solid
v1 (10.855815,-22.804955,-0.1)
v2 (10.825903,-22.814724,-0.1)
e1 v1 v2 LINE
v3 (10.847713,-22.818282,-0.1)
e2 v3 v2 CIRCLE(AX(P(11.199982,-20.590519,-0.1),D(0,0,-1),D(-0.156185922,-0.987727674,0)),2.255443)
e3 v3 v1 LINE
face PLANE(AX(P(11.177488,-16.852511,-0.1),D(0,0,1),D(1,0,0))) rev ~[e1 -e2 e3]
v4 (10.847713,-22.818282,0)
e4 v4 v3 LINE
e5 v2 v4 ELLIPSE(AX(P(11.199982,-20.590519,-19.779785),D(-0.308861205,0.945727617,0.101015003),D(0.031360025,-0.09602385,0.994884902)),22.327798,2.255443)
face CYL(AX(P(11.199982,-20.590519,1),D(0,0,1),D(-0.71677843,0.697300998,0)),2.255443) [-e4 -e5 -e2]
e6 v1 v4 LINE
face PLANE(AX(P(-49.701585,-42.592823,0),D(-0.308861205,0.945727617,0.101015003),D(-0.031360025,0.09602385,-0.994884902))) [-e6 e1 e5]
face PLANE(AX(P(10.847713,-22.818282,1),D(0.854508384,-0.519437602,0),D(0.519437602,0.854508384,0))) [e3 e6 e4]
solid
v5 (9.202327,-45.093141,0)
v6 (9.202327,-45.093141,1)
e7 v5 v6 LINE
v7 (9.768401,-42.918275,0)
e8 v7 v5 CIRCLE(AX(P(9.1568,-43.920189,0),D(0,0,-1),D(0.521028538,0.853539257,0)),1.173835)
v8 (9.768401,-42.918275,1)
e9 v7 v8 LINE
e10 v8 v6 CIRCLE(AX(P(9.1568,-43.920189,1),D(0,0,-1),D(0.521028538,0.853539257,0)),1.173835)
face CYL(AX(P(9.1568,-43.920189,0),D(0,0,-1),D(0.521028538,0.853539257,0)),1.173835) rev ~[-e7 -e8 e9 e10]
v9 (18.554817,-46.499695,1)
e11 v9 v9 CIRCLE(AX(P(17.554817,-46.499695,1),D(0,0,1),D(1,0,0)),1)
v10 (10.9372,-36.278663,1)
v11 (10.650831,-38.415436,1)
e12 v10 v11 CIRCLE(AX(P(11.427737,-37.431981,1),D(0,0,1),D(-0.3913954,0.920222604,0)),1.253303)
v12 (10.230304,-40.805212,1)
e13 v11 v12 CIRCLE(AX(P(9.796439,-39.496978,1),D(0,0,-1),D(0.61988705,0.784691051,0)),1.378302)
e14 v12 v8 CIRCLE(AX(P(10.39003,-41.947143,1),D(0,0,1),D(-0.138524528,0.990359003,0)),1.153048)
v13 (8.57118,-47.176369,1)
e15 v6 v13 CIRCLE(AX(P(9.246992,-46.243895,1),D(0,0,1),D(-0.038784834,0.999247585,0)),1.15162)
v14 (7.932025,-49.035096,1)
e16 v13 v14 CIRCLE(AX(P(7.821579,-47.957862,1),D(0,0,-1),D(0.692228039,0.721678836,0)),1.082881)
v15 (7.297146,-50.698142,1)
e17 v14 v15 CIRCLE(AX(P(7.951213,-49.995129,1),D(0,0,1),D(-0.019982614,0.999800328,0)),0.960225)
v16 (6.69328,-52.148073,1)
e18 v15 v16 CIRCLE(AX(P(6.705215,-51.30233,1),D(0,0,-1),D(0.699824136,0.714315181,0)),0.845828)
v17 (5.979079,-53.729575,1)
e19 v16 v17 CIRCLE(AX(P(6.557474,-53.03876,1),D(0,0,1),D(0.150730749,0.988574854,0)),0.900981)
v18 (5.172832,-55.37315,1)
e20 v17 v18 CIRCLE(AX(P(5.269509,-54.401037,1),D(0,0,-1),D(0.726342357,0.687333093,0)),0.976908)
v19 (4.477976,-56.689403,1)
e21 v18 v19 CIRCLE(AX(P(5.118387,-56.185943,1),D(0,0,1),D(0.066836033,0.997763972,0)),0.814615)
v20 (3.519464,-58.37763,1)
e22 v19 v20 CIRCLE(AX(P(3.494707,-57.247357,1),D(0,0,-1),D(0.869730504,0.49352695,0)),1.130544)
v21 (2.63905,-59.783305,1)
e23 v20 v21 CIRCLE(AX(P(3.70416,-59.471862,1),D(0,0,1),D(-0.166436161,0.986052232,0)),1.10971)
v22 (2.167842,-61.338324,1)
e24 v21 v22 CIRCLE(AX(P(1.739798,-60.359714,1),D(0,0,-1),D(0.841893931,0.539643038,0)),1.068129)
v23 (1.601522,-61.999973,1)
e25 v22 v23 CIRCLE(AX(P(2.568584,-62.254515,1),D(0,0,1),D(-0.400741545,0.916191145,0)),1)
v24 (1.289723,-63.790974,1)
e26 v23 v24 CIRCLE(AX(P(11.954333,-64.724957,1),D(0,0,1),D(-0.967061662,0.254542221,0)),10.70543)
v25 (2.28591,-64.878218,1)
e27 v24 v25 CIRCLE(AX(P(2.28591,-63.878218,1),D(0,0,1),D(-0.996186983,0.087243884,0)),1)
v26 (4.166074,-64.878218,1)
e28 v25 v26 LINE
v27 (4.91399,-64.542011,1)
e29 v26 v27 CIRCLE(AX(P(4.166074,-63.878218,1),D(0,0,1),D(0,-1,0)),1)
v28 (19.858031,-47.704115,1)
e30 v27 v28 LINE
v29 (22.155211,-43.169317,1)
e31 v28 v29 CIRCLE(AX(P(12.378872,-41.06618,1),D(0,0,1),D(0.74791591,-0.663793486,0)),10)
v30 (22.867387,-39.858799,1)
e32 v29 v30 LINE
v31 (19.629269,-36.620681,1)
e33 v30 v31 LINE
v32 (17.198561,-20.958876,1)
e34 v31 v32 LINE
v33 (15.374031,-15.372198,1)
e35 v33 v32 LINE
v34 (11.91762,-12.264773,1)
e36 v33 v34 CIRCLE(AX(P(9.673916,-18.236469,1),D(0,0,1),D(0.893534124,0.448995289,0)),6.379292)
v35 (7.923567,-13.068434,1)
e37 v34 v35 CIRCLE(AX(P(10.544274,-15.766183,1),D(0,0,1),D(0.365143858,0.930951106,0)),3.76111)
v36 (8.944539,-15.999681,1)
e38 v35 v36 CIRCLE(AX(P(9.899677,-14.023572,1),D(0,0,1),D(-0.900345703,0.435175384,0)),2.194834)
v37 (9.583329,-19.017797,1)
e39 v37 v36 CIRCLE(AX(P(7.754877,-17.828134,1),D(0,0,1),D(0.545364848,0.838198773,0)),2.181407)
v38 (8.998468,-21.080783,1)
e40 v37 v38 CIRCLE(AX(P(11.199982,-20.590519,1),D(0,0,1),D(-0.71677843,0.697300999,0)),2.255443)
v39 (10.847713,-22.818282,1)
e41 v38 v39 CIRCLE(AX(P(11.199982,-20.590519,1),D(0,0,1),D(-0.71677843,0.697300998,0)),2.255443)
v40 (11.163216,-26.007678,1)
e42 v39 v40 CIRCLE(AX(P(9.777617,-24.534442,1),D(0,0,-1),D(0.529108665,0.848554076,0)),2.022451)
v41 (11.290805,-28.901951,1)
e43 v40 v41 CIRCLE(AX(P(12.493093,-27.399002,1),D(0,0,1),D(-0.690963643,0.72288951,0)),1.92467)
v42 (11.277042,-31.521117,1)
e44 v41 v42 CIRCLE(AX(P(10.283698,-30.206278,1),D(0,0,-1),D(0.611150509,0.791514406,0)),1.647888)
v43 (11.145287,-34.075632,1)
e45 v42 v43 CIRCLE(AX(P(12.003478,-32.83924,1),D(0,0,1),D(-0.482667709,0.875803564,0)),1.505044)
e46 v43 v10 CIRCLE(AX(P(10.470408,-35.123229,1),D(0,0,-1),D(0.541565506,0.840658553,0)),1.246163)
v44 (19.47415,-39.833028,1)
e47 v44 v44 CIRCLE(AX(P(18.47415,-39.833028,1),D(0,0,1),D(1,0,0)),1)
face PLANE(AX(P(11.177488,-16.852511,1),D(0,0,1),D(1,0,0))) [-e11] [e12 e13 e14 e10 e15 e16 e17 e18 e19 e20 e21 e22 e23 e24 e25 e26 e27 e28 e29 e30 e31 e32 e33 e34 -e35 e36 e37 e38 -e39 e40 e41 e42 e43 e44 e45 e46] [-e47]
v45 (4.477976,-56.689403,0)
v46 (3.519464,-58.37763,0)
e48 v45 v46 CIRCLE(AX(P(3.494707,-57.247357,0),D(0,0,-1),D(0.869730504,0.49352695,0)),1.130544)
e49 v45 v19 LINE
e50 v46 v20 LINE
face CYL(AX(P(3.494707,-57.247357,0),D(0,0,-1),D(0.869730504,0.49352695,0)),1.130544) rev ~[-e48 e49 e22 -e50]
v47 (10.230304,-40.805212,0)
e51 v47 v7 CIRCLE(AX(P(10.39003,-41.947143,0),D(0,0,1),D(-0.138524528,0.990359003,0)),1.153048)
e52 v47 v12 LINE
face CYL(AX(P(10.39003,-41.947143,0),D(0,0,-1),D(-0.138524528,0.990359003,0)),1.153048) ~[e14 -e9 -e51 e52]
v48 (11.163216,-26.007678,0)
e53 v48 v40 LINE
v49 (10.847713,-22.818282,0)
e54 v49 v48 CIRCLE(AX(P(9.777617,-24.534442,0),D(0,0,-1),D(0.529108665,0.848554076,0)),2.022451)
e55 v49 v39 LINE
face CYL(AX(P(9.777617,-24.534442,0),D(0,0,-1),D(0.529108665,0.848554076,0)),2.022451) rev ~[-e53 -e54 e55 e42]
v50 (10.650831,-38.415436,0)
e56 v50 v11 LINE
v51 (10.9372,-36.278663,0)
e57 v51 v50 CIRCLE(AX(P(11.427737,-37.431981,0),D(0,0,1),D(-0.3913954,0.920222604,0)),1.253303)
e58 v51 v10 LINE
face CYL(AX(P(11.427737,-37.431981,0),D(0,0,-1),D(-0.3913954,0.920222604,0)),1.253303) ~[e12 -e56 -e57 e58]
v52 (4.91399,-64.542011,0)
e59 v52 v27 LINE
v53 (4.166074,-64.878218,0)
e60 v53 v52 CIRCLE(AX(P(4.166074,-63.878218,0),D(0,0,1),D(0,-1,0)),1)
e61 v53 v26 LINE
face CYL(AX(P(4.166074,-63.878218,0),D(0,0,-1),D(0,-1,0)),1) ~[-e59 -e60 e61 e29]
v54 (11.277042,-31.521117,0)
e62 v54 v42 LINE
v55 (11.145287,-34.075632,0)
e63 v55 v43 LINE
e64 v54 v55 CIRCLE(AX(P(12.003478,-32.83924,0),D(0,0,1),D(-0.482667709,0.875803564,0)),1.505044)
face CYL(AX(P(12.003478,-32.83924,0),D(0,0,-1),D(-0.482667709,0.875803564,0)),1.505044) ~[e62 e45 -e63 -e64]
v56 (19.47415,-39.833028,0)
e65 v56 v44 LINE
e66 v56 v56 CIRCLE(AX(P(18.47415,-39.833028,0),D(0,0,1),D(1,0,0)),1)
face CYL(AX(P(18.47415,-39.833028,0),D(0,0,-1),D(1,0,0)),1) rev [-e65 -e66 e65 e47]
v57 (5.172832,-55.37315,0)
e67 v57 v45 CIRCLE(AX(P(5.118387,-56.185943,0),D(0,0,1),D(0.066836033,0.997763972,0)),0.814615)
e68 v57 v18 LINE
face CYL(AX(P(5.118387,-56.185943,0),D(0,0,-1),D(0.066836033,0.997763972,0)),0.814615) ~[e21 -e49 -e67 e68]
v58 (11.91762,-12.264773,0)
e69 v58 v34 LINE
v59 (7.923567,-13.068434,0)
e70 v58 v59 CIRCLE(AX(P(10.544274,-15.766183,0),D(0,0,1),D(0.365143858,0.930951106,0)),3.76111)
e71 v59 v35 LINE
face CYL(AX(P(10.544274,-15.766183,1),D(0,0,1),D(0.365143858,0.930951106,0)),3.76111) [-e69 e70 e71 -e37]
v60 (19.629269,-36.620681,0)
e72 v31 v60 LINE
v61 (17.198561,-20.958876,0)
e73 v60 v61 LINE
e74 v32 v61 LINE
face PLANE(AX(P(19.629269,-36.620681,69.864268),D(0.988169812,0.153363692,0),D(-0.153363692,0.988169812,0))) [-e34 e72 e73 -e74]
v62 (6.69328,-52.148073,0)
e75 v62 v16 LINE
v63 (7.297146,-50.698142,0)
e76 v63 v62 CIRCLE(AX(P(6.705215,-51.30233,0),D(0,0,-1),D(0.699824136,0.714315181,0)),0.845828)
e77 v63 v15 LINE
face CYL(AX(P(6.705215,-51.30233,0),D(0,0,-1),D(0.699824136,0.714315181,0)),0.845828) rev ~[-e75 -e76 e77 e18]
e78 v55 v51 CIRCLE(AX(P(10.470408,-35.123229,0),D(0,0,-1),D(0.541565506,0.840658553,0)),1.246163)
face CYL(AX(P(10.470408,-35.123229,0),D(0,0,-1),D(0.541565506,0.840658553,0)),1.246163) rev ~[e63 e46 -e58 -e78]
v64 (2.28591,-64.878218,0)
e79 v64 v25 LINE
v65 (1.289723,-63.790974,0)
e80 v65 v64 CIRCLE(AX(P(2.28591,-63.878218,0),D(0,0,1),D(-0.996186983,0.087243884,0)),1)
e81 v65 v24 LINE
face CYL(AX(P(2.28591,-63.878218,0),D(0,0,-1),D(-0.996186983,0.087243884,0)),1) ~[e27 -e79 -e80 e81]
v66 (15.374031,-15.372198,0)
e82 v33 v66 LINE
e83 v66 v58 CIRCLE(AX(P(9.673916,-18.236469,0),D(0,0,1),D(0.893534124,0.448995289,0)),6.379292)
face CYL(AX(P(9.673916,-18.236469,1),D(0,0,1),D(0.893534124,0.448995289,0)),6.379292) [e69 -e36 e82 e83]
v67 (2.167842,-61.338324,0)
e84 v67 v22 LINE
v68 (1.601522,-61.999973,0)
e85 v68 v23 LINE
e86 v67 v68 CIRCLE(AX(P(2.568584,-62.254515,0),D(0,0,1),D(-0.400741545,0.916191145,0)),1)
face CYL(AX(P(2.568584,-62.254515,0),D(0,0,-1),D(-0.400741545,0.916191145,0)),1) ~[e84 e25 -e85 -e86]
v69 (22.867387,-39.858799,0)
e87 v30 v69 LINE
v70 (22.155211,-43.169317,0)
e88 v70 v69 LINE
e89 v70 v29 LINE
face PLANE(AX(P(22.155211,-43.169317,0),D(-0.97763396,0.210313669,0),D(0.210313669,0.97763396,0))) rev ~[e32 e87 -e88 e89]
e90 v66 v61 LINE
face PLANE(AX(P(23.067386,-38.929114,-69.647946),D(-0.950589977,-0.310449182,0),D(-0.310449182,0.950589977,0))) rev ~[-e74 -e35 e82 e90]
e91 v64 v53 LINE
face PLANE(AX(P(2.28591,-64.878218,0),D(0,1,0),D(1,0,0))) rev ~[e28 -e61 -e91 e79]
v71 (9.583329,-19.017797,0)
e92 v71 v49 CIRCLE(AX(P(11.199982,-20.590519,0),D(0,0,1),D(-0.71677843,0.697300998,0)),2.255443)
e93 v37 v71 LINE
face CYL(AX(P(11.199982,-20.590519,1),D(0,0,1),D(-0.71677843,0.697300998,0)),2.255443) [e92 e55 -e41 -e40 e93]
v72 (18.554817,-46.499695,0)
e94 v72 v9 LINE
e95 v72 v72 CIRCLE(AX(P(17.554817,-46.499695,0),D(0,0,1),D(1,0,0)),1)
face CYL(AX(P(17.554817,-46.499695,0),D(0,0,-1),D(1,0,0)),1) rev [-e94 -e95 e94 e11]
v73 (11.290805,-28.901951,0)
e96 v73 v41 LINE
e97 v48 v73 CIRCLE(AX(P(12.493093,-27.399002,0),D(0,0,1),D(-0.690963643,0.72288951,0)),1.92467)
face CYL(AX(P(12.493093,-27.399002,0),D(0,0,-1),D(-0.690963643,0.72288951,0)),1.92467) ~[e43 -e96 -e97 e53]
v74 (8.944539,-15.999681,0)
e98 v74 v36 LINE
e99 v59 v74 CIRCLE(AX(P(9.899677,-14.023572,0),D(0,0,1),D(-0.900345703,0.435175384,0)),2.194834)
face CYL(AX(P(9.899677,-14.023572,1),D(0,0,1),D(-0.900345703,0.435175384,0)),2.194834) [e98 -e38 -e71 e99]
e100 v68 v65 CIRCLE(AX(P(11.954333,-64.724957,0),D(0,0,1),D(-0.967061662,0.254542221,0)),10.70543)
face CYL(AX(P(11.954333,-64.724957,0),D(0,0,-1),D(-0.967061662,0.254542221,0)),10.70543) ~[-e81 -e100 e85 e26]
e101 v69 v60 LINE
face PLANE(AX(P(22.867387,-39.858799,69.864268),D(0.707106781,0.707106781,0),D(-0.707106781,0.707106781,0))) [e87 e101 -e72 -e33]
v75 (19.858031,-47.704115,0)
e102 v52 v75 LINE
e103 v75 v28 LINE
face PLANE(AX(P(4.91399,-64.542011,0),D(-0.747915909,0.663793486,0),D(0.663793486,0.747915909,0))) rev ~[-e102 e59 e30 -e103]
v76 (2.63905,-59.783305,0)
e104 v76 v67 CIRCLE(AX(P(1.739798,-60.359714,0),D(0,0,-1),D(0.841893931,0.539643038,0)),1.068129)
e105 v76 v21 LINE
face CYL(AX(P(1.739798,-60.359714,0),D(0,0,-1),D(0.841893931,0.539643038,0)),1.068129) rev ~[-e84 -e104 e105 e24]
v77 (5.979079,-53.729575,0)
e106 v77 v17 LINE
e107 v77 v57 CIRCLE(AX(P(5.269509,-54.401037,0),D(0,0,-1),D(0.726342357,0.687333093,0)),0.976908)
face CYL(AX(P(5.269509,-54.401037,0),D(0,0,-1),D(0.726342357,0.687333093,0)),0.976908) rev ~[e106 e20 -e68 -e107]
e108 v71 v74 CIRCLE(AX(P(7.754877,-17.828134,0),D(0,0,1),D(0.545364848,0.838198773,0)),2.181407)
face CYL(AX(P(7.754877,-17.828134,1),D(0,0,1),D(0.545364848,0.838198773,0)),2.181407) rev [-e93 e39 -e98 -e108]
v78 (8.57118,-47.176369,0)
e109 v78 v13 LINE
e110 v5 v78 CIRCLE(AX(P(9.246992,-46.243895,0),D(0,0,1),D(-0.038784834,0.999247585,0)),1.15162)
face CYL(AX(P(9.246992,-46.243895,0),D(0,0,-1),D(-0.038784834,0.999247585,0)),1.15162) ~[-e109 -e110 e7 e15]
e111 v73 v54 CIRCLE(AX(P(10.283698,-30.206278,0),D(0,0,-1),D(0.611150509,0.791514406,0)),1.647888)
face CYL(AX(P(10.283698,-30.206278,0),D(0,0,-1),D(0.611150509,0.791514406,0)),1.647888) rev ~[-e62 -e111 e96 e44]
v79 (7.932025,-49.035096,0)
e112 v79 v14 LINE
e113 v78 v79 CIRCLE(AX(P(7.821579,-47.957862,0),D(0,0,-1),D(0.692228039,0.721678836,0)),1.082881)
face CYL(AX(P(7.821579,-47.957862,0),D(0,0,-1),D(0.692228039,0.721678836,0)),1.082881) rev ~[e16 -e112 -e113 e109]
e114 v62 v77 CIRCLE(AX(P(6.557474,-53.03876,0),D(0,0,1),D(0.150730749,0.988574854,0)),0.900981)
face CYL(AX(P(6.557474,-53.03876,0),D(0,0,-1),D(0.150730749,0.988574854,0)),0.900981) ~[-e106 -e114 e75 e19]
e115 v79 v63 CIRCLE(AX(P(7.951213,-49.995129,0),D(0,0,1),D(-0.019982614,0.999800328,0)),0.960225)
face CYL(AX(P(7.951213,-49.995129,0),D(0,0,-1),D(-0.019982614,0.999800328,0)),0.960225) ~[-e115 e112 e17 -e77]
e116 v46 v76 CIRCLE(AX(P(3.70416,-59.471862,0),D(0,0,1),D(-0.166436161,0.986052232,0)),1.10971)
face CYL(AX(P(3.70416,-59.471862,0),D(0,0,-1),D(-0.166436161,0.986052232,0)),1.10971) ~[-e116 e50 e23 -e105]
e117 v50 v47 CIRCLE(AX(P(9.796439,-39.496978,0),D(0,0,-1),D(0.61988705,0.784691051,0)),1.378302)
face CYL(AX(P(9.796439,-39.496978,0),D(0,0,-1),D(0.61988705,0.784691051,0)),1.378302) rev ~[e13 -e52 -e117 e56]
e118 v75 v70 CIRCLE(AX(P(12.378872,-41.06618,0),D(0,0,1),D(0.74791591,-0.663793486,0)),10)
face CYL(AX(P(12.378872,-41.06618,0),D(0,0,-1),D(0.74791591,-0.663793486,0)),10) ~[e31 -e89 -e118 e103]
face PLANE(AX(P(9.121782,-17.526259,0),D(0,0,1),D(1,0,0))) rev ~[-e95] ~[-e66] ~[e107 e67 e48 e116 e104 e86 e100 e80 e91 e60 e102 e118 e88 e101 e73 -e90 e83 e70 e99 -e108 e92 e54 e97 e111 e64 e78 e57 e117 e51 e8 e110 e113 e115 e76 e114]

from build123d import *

# Parameters (mm, degrees)
SKETCH1_R               = 1
SKETCH1_R_2             = 2.25
SKETCH1_R_3             = 0.998074624
BOSS_EXTRUDE2_DEPTH     = 1
CUT_EXTRUDE1_DEPTH      = 70.647946454
CUT_EXTRUDE1_DEPTH_BACK = 70.647946454
BOSS_EXTRUDE3_START     = -1
SKETCH3_R               = 0.998074624
BOSS_EXTRUDE3_DEPTH     = 1
BOSS_EXTRUDE4_DEPTH     = 1.1
CUT_EXTRUDE2_DEPTH      = 69.864267842
CUT_EXTRUDE2_DEPTH_BACK = 69.864267842
CUT_EXTRUDE3_DEPTH      = 70.310849907
CUT_EXTRUDE3_DEPTH_BACK = 70.310849907
CUT_EXTRUDE4_DEPTH      = 69.864267842
CUT_EXTRUDE4_DEPTH_BACK = 69.864267842


with BuildPart() as part:
    # Sketch1 → Boss-Extrude2 (new body)
    with BuildSketch(Plane.XY):
        with BuildLine():
            Line((5.146977147, -5.612602955), (7.44171219, -13.199988708))
            ThreePointArc((7.44171219, -13.199988708), (7.439945119, -13.784749424), (7.111476001, -14.268543034))
            ThreePointArc((7.111476001, -14.268543034), (5.923924572, -18.62818009), (9.697794763, -21.113057841))
            ThreePointArc((9.697794763, -21.113057841), (10.380528535, -21.341854349), (10.732574986, -21.969975788))
            ThreePointArc((10.732574986, -21.969975788), (10.791766979, -22.393908793), (10.847713449, -22.818282305))
            ThreePointArc((10.847713449, -22.818282305), (11.790244876, -24.335347863), (11.16321594, -26.007678007))
            ThreePointArc((11.16321594, -26.007678007), (10.570290463, -27.483765064), (11.290805177, -28.901951288))
            ThreePointArc((11.290805177, -28.901951288), (11.931562756, -30.214937196), (11.277042334, -31.52111685))
            ThreePointArc((11.277042334, -31.52111685), (10.500432467, -32.761716535), (11.145287395, -34.075631519))
            ThreePointArc((11.145287395, -34.075631519), (11.711049486, -35.240414102), (10.937199745, -36.278663489))
            ThreePointArc((10.937199745, -36.278663489), (10.185540032, -37.265502357), (10.650830557, -38.415436269))
            ThreePointArc((10.650830557, -38.415436269), (11.153884573, -39.735845823), (10.230304321, -40.805212107))
            ThreePointArc((10.230304321, -40.805212107), (9.263580844, -41.700908083), (9.768401259, -42.918274877))
            ThreePointArc((9.768401259, -42.918274877), (10.29278617, -44.215864041), (9.202326649, -45.093141196))
            ThreePointArc((9.202326649, -45.093141196), (8.144843355, -45.909982105), (8.571180325, -47.176369398))
            ThreePointArc((8.571180325, -47.176369398), (8.845608938, -48.309992252), (7.932024848, -49.035096348))
            ThreePointArc((7.932024848, -49.035096348), (7.054134874, -49.652663659), (7.297145805, -50.698142438))
            ThreePointArc((7.297145805, -50.698142438), (7.486031135, -51.627523472), (6.693279806, -52.148073283))
            ThreePointArc((6.693279806, -52.148073283), (5.736341709, -52.667939714), (5.979078831, -53.729575393))
            ThreePointArc((5.979078831, -53.729575393), (6.146574337, -54.831276595), (5.172832259, -55.373149872))
            ThreePointArc((5.172832259, -55.373149872), (4.397991341, -55.805643097), (4.477975588, -56.689402883))
            ThreePointArc((4.477975588, -56.689402883), (4.477842946, -57.805544451), (3.519463877, -58.377629741))
            ThreePointArc((3.519463877, -58.377629741), (2.763689302, -58.882818754), (2.639049746, -59.78330536))
            ThreePointArc((2.639049746, -59.78330536), (2.762025793, -60.669472955), (2.167842085, -61.338324084))
            ThreePointArc((2.167842085, -61.338324084), (1.808869059, -61.604258533), (1.601521968, -61.999973009))
            ThreePointArc((1.601521968, -61.999973009), (1.407536389, -62.888842845), (1.289722883, -63.790973638))
            ThreePointArc((1.289722883, -63.790973638), (1.548602642, -64.553775113), (2.285909866, -64.878217524))
            Line((2.285909866, -64.878217524), (4.16607409, -64.878217524))
            ThreePointArc((4.16607409, -64.878217524), (4.576078061, -64.790301261), (4.913989999, -64.54201101))
            Line((4.913989999, -64.54201101), (19.858030846, -47.704114694))
            ThreePointArc((19.858030846, -47.704114694), (21.299586827, -45.585122466), (22.155211357, -43.169316519))
            Line((22.155211357, -43.169316519), (25.087470282, -29.538838187))
            ThreePointArc((25.087470282, -29.538838187), (25.281255234, -26.663292069), (24.646889926, -23.851904734))
            Line((24.646889926, -23.851904734), (16.800568019, -3.412304746))
            ThreePointArc((16.800568019, -3.412304746), (16.953922391, -3.093842948), (17.092102067, -2.768509492))
            Line((17.092102067, -2.768509492), (18.529571691, -3.317185246))
            ThreePointArc((18.529571691, -3.317185246), (19.942904756, -2.448680804), (19.102743866, -1.018317214))
            Line((19.102743866, -1.018317214), (17.575945858, -0.827918039))
            ThreePointArc((17.575945858, -0.827918039), (17.62064019, 0.130893048), (17.54251106, 1.087560245))
            Line((17.54251106, 1.087560245), (19.061734148, 1.331127915))
            ThreePointArc((19.061734148, 1.331127915), (19.851464266, 2.789941358), (18.408681797, 3.608592118))
            Line((18.408681797, 3.608592118), (16.991236349, 3.010083636))
            ThreePointArc((16.991236349, 3.010083636), (16.550537232, 3.862785562), (16.004541822, 4.652219092))
            Line((16.004541822, 4.652219092), (17.198443775, 5.622766426))
            ThreePointArc((17.198443775, 5.622766426), (17.152963398, 7.281000986), (15.494151748, 7.268582106))
            Line((15.494151748, 7.268582106), (14.565862222, 6.041535833))
            ThreePointArc((14.565862222, 6.041535833), (13.757854628, 6.559647804), (12.890291968, 6.97031959))
            Line((12.890291968, 6.97031959), (13.438967722, 8.407789214))
            ThreePointArc((13.438967722, 8.407789214), (12.57046328, 9.821122279), (11.140099691, 8.980961389))
            Line((11.140099691, 8.980961389), (10.949700516, 7.454163382))
            ThreePointArc((10.949700516, 7.454163382), (9.990889428, 7.498857714), (9.034222232, 7.420728584))
            Line((9.034222232, 7.420728584), (8.790654561, 8.939951672))
            ThreePointArc((8.790654561, 8.939951672), (7.331841118, 9.729681789), (6.513190359, 8.286899321))
            Line((6.513190359, 8.286899321), (7.11169884, 6.869453872))
            ThreePointArc((7.11169884, 6.869453872), (6.258996915, 6.428754755), (5.469563385, 5.882759346))
            Line((5.469563385, 5.882759346), (4.49901605, 7.076661299))
            ThreePointArc((4.49901605, 7.076661299), (2.840781491, 7.031180921), (2.85320037, 5.372369271))
            Line((2.85320037, 5.372369271), (4.080246644, 4.444079745))
            ThreePointArc((4.080246644, 4.444079745), (3.562134673, 3.636072152), (3.151462886, 2.768509492))
            Line((3.151462886, 2.768509492), (1.713993262, 3.317185246))
            ThreePointArc((1.713993262, 3.317185246), (0.300660197, 2.448680804), (1.140821087, 1.018317214))
            Line((1.140821087, 1.018317214), (2.667619095, 0.827918039))
            ThreePointArc((2.667619095, 0.827918039), (2.622924763, -0.130893048), (2.701053893, -1.087560245))
            Line((2.701053893, -1.087560245), (1.181830804, -1.331127915))
            ThreePointArc((1.181830804, -1.331127915), (0.392100687, -2.789941358), (1.834883156, -3.608592118))
            Line((1.834883156, -3.608592118), (3.252328604, -3.010083636))
            ThreePointArc((3.252328604, -3.010083636), (4.058376197, -4.414193504), (5.146977147, -5.612602955))
        make_face()
        with Locations((10.121782476, 0)):
            Circle(SKETCH1_R, mode=Mode.SUBTRACT)
        with Locations((15.627966379, -9.260281964)):
            Circle(SKETCH1_R_2, mode=Mode.SUBTRACT)
        with Locations((9.121782476, -17.526259213)):
            Circle(SKETCH1_R_3, mode=Mode.SUBTRACT)
        with Locations((22.60685911, -26.49969455)):
            Circle(SKETCH1_R, mode=Mode.SUBTRACT)
        with Locations((22.60685911, -33.166361217)):
            Circle(SKETCH1_R, mode=Mode.SUBTRACT)
        with Locations((18.474150388, -39.833027883)):
            Circle(SKETCH1_R, mode=Mode.SUBTRACT)
        with Locations((17.55481685, -46.49969455)):
            Circle(SKETCH1_R, mode=Mode.SUBTRACT)
        with BuildLine():
            Line((14.500290742, -21.375988683), (12.638736062, -16.487053928))
            ThreePointArc((12.638736062, -16.487053928), (13.337027802, -14.929994394), (14.894087335, -15.628286133))
            Line((14.894087335, -15.628286133), (16.755642015, -20.517220889))
            ThreePointArc((16.755642015, -20.517220889), (16.057350276, -22.074280422), (14.500290742, -21.375988683))
        make_face(mode=Mode.SUBTRACT)
    extrude(amount=BOSS_EXTRUDE2_DEPTH)

    # Sketch2 → Cut-Extrude1 (cut, two sides: drawn at the far end of the back side and taken through both)
    with BuildSketch(Plane.XY.offset(1).offset(-CUT_EXTRUDE1_DEPTH_BACK)):
        Polygon((23.067385557, -38.929114347), (13.377966379, -9.260281964), (6.294344668, -9.406295831), (-11.974505851, 6.419078926), (6.294344668, 12.782954548), (25.940890827, 9.601016737), (30.043126859, -7.362530315), (32.828926707, -29.92513595), align=None)
    extrude(amount=CUT_EXTRUDE1_DEPTH + CUT_EXTRUDE1_DEPTH_BACK, mode=Mode.SUBTRACT)

    # Sketch3 → Boss-Extrude3 (add)
    with BuildSketch(Plane.XY.offset(1).offset(BOSS_EXTRUDE3_START)):
        with Locations((9.121782476, -17.526259213)):
            Circle(SKETCH3_R)
        with BuildLine():
            Line((16.755642015, -20.517220889), (14.894087335, -15.628286133))
            ThreePointArc((14.894087335, -15.628286133), (13.337027802, -14.929994394), (12.638736062, -16.487053928))
            Line((12.638736062, -16.487053928), (14.500290742, -21.375988683))
            ThreePointArc((14.500290742, -21.375988683), (16.057350276, -22.074280422), (16.755642015, -20.517220889))
        make_face()
    extrude(amount=BOSS_EXTRUDE3_DEPTH)

    # Sketch4 → Boss-Extrude4 (add)
    with BuildSketch(Plane.XY.offset(1)):
        with BuildLine():
            Line((10.847713449, -22.818282305), (15.374031166, -15.372197501))
            ThreePointArc((15.374031166, -15.372197501), (13.938899809, -13.492496557), (11.917619823, -12.264773107))
            ThreePointArc((11.917619823, -12.264773107), (9.802354219, -12.078974443), (7.923567461, -13.068433908))
            ThreePointArc((7.923567461, -13.068433908), (7.826972113, -14.745507843), (8.944539239, -15.99968142))
            ThreePointArc((8.944539239, -15.99968142), (9.889006411, -17.376441406), (9.583329231, -19.017796869))
            ThreePointArc((9.583329231, -19.017796869), (9.059868552, -21.302513931), (10.847713449, -22.818282305))
        make_face()
    extrude(amount=-BOSS_EXTRUDE4_DEPTH)

    # Sketch5 → Cut-Extrude2 (cut, two sides: drawn at the far end of the back side and taken through both)
    with BuildSketch(Plane(origin=(0, 0, 0), x_dir=(-1, 0, 0), z_dir=(0, 0, -1)).offset(-CUT_EXTRUDE2_DEPTH_BACK)):
        with BuildLine():
            Line((-7.44171219, -13.199988708), (-6.294344668, -9.406295831))
            Line((-6.294344668, -9.406295831), (-13.377966379, -9.260281964))
            ThreePointArc((-13.377966379, -9.260281964), (-13.489138929, -9.958792624), (-13.811670505, -10.58827643))
            Line((-13.811670505, -10.58827643), (-15.374031166, -15.372197501))
            ThreePointArc((-15.374031166, -15.372197501), (-13.938899809, -13.492496557), (-11.917619823, -12.264773107))
            ThreePointArc((-11.917619823, -12.264773107), (-9.802354219, -12.078974443), (-7.923567461, -13.068433908))
            ThreePointArc((-7.923567461, -13.068433908), (-7.826972113, -14.745507843), (-8.944539239, -15.99968142))
            ThreePointArc((-8.944539239, -15.99968142), (-9.889006411, -17.376441406), (-9.583329231, -19.017796869))
            ThreePointArc((-9.583329231, -19.017796869), (-9.030056336, -19.975340702), (-8.998468155, -21.080783272))
            ThreePointArc((-8.998468155, -21.080783272), (-5.815114314, -18.295104282), (-7.111476001, -14.268543034))
            ThreePointArc((-7.111476001, -14.268543034), (-7.439945119, -13.784749424), (-7.44171219, -13.199988708))
        make_face()
    extrude(amount=CUT_EXTRUDE2_DEPTH + CUT_EXTRUDE2_DEPTH_BACK, mode=Mode.SUBTRACT)

    # Sketch6 → Cut-Extrude3 (cut, two sides: drawn at the far end of the back side and taken through both)
    with BuildSketch(Plane(origin=(9.355814727, 3.05547618, 0), x_dir=(0, 0, -1), z_dir=(0.9505899773939267, 0.31044918244088504, 0)).offset(-CUT_EXTRUDE3_DEPTH_BACK)):
        Polygon((0, -25.058494232), (0.374252859, -25.020494707), (2.926516303, -10.696178036), (0, -13.49636007), align=None)
    extrude(amount=CUT_EXTRUDE3_DEPTH + CUT_EXTRUDE3_DEPTH_BACK, mode=Mode.SUBTRACT)


with BuildPart() as cut_extrude3_piece_1:
    # of the separate pieces the step leaves, piece 1, a body of its own (cut_extrude3_pieces)
    add(part.part.solids().sort_by_distance((4.913989999, -64.54201101, 0))[0])

    # Sketch7 → Cut-Extrude4 (cut, two sides: drawn at the far end of the back side and taken through both)
    with BuildSketch(Plane(origin=(0, 0, 0), x_dir=(-1, 0, 0), z_dir=(0, 0, -1)).offset(-CUT_EXTRUDE4_DEPTH_BACK)):
        Polygon((-22.867386931, -39.858799279), (-19.629269045, -36.620681393), (-17.198561033, -20.958876105), (-20.466436133, -20.958876105), (-26.545979071, -37.447389214), align=None)
    extrude(amount=CUT_EXTRUDE4_DEPTH + CUT_EXTRUDE4_DEPTH_BACK, mode=Mode.SUBTRACT)


with BuildPart() as cut_extrude3_piece_2:
    # of the separate pieces the step leaves, piece 2, a body of its own (cut_extrude3_pieces)
    add(part.part.solids().sort_by_distance((10.855814599, -22.80495539, -0.1))[0])


solid = Compound([cut_extrude3_piece_1.part, cut_extrude3_piece_2.part])
